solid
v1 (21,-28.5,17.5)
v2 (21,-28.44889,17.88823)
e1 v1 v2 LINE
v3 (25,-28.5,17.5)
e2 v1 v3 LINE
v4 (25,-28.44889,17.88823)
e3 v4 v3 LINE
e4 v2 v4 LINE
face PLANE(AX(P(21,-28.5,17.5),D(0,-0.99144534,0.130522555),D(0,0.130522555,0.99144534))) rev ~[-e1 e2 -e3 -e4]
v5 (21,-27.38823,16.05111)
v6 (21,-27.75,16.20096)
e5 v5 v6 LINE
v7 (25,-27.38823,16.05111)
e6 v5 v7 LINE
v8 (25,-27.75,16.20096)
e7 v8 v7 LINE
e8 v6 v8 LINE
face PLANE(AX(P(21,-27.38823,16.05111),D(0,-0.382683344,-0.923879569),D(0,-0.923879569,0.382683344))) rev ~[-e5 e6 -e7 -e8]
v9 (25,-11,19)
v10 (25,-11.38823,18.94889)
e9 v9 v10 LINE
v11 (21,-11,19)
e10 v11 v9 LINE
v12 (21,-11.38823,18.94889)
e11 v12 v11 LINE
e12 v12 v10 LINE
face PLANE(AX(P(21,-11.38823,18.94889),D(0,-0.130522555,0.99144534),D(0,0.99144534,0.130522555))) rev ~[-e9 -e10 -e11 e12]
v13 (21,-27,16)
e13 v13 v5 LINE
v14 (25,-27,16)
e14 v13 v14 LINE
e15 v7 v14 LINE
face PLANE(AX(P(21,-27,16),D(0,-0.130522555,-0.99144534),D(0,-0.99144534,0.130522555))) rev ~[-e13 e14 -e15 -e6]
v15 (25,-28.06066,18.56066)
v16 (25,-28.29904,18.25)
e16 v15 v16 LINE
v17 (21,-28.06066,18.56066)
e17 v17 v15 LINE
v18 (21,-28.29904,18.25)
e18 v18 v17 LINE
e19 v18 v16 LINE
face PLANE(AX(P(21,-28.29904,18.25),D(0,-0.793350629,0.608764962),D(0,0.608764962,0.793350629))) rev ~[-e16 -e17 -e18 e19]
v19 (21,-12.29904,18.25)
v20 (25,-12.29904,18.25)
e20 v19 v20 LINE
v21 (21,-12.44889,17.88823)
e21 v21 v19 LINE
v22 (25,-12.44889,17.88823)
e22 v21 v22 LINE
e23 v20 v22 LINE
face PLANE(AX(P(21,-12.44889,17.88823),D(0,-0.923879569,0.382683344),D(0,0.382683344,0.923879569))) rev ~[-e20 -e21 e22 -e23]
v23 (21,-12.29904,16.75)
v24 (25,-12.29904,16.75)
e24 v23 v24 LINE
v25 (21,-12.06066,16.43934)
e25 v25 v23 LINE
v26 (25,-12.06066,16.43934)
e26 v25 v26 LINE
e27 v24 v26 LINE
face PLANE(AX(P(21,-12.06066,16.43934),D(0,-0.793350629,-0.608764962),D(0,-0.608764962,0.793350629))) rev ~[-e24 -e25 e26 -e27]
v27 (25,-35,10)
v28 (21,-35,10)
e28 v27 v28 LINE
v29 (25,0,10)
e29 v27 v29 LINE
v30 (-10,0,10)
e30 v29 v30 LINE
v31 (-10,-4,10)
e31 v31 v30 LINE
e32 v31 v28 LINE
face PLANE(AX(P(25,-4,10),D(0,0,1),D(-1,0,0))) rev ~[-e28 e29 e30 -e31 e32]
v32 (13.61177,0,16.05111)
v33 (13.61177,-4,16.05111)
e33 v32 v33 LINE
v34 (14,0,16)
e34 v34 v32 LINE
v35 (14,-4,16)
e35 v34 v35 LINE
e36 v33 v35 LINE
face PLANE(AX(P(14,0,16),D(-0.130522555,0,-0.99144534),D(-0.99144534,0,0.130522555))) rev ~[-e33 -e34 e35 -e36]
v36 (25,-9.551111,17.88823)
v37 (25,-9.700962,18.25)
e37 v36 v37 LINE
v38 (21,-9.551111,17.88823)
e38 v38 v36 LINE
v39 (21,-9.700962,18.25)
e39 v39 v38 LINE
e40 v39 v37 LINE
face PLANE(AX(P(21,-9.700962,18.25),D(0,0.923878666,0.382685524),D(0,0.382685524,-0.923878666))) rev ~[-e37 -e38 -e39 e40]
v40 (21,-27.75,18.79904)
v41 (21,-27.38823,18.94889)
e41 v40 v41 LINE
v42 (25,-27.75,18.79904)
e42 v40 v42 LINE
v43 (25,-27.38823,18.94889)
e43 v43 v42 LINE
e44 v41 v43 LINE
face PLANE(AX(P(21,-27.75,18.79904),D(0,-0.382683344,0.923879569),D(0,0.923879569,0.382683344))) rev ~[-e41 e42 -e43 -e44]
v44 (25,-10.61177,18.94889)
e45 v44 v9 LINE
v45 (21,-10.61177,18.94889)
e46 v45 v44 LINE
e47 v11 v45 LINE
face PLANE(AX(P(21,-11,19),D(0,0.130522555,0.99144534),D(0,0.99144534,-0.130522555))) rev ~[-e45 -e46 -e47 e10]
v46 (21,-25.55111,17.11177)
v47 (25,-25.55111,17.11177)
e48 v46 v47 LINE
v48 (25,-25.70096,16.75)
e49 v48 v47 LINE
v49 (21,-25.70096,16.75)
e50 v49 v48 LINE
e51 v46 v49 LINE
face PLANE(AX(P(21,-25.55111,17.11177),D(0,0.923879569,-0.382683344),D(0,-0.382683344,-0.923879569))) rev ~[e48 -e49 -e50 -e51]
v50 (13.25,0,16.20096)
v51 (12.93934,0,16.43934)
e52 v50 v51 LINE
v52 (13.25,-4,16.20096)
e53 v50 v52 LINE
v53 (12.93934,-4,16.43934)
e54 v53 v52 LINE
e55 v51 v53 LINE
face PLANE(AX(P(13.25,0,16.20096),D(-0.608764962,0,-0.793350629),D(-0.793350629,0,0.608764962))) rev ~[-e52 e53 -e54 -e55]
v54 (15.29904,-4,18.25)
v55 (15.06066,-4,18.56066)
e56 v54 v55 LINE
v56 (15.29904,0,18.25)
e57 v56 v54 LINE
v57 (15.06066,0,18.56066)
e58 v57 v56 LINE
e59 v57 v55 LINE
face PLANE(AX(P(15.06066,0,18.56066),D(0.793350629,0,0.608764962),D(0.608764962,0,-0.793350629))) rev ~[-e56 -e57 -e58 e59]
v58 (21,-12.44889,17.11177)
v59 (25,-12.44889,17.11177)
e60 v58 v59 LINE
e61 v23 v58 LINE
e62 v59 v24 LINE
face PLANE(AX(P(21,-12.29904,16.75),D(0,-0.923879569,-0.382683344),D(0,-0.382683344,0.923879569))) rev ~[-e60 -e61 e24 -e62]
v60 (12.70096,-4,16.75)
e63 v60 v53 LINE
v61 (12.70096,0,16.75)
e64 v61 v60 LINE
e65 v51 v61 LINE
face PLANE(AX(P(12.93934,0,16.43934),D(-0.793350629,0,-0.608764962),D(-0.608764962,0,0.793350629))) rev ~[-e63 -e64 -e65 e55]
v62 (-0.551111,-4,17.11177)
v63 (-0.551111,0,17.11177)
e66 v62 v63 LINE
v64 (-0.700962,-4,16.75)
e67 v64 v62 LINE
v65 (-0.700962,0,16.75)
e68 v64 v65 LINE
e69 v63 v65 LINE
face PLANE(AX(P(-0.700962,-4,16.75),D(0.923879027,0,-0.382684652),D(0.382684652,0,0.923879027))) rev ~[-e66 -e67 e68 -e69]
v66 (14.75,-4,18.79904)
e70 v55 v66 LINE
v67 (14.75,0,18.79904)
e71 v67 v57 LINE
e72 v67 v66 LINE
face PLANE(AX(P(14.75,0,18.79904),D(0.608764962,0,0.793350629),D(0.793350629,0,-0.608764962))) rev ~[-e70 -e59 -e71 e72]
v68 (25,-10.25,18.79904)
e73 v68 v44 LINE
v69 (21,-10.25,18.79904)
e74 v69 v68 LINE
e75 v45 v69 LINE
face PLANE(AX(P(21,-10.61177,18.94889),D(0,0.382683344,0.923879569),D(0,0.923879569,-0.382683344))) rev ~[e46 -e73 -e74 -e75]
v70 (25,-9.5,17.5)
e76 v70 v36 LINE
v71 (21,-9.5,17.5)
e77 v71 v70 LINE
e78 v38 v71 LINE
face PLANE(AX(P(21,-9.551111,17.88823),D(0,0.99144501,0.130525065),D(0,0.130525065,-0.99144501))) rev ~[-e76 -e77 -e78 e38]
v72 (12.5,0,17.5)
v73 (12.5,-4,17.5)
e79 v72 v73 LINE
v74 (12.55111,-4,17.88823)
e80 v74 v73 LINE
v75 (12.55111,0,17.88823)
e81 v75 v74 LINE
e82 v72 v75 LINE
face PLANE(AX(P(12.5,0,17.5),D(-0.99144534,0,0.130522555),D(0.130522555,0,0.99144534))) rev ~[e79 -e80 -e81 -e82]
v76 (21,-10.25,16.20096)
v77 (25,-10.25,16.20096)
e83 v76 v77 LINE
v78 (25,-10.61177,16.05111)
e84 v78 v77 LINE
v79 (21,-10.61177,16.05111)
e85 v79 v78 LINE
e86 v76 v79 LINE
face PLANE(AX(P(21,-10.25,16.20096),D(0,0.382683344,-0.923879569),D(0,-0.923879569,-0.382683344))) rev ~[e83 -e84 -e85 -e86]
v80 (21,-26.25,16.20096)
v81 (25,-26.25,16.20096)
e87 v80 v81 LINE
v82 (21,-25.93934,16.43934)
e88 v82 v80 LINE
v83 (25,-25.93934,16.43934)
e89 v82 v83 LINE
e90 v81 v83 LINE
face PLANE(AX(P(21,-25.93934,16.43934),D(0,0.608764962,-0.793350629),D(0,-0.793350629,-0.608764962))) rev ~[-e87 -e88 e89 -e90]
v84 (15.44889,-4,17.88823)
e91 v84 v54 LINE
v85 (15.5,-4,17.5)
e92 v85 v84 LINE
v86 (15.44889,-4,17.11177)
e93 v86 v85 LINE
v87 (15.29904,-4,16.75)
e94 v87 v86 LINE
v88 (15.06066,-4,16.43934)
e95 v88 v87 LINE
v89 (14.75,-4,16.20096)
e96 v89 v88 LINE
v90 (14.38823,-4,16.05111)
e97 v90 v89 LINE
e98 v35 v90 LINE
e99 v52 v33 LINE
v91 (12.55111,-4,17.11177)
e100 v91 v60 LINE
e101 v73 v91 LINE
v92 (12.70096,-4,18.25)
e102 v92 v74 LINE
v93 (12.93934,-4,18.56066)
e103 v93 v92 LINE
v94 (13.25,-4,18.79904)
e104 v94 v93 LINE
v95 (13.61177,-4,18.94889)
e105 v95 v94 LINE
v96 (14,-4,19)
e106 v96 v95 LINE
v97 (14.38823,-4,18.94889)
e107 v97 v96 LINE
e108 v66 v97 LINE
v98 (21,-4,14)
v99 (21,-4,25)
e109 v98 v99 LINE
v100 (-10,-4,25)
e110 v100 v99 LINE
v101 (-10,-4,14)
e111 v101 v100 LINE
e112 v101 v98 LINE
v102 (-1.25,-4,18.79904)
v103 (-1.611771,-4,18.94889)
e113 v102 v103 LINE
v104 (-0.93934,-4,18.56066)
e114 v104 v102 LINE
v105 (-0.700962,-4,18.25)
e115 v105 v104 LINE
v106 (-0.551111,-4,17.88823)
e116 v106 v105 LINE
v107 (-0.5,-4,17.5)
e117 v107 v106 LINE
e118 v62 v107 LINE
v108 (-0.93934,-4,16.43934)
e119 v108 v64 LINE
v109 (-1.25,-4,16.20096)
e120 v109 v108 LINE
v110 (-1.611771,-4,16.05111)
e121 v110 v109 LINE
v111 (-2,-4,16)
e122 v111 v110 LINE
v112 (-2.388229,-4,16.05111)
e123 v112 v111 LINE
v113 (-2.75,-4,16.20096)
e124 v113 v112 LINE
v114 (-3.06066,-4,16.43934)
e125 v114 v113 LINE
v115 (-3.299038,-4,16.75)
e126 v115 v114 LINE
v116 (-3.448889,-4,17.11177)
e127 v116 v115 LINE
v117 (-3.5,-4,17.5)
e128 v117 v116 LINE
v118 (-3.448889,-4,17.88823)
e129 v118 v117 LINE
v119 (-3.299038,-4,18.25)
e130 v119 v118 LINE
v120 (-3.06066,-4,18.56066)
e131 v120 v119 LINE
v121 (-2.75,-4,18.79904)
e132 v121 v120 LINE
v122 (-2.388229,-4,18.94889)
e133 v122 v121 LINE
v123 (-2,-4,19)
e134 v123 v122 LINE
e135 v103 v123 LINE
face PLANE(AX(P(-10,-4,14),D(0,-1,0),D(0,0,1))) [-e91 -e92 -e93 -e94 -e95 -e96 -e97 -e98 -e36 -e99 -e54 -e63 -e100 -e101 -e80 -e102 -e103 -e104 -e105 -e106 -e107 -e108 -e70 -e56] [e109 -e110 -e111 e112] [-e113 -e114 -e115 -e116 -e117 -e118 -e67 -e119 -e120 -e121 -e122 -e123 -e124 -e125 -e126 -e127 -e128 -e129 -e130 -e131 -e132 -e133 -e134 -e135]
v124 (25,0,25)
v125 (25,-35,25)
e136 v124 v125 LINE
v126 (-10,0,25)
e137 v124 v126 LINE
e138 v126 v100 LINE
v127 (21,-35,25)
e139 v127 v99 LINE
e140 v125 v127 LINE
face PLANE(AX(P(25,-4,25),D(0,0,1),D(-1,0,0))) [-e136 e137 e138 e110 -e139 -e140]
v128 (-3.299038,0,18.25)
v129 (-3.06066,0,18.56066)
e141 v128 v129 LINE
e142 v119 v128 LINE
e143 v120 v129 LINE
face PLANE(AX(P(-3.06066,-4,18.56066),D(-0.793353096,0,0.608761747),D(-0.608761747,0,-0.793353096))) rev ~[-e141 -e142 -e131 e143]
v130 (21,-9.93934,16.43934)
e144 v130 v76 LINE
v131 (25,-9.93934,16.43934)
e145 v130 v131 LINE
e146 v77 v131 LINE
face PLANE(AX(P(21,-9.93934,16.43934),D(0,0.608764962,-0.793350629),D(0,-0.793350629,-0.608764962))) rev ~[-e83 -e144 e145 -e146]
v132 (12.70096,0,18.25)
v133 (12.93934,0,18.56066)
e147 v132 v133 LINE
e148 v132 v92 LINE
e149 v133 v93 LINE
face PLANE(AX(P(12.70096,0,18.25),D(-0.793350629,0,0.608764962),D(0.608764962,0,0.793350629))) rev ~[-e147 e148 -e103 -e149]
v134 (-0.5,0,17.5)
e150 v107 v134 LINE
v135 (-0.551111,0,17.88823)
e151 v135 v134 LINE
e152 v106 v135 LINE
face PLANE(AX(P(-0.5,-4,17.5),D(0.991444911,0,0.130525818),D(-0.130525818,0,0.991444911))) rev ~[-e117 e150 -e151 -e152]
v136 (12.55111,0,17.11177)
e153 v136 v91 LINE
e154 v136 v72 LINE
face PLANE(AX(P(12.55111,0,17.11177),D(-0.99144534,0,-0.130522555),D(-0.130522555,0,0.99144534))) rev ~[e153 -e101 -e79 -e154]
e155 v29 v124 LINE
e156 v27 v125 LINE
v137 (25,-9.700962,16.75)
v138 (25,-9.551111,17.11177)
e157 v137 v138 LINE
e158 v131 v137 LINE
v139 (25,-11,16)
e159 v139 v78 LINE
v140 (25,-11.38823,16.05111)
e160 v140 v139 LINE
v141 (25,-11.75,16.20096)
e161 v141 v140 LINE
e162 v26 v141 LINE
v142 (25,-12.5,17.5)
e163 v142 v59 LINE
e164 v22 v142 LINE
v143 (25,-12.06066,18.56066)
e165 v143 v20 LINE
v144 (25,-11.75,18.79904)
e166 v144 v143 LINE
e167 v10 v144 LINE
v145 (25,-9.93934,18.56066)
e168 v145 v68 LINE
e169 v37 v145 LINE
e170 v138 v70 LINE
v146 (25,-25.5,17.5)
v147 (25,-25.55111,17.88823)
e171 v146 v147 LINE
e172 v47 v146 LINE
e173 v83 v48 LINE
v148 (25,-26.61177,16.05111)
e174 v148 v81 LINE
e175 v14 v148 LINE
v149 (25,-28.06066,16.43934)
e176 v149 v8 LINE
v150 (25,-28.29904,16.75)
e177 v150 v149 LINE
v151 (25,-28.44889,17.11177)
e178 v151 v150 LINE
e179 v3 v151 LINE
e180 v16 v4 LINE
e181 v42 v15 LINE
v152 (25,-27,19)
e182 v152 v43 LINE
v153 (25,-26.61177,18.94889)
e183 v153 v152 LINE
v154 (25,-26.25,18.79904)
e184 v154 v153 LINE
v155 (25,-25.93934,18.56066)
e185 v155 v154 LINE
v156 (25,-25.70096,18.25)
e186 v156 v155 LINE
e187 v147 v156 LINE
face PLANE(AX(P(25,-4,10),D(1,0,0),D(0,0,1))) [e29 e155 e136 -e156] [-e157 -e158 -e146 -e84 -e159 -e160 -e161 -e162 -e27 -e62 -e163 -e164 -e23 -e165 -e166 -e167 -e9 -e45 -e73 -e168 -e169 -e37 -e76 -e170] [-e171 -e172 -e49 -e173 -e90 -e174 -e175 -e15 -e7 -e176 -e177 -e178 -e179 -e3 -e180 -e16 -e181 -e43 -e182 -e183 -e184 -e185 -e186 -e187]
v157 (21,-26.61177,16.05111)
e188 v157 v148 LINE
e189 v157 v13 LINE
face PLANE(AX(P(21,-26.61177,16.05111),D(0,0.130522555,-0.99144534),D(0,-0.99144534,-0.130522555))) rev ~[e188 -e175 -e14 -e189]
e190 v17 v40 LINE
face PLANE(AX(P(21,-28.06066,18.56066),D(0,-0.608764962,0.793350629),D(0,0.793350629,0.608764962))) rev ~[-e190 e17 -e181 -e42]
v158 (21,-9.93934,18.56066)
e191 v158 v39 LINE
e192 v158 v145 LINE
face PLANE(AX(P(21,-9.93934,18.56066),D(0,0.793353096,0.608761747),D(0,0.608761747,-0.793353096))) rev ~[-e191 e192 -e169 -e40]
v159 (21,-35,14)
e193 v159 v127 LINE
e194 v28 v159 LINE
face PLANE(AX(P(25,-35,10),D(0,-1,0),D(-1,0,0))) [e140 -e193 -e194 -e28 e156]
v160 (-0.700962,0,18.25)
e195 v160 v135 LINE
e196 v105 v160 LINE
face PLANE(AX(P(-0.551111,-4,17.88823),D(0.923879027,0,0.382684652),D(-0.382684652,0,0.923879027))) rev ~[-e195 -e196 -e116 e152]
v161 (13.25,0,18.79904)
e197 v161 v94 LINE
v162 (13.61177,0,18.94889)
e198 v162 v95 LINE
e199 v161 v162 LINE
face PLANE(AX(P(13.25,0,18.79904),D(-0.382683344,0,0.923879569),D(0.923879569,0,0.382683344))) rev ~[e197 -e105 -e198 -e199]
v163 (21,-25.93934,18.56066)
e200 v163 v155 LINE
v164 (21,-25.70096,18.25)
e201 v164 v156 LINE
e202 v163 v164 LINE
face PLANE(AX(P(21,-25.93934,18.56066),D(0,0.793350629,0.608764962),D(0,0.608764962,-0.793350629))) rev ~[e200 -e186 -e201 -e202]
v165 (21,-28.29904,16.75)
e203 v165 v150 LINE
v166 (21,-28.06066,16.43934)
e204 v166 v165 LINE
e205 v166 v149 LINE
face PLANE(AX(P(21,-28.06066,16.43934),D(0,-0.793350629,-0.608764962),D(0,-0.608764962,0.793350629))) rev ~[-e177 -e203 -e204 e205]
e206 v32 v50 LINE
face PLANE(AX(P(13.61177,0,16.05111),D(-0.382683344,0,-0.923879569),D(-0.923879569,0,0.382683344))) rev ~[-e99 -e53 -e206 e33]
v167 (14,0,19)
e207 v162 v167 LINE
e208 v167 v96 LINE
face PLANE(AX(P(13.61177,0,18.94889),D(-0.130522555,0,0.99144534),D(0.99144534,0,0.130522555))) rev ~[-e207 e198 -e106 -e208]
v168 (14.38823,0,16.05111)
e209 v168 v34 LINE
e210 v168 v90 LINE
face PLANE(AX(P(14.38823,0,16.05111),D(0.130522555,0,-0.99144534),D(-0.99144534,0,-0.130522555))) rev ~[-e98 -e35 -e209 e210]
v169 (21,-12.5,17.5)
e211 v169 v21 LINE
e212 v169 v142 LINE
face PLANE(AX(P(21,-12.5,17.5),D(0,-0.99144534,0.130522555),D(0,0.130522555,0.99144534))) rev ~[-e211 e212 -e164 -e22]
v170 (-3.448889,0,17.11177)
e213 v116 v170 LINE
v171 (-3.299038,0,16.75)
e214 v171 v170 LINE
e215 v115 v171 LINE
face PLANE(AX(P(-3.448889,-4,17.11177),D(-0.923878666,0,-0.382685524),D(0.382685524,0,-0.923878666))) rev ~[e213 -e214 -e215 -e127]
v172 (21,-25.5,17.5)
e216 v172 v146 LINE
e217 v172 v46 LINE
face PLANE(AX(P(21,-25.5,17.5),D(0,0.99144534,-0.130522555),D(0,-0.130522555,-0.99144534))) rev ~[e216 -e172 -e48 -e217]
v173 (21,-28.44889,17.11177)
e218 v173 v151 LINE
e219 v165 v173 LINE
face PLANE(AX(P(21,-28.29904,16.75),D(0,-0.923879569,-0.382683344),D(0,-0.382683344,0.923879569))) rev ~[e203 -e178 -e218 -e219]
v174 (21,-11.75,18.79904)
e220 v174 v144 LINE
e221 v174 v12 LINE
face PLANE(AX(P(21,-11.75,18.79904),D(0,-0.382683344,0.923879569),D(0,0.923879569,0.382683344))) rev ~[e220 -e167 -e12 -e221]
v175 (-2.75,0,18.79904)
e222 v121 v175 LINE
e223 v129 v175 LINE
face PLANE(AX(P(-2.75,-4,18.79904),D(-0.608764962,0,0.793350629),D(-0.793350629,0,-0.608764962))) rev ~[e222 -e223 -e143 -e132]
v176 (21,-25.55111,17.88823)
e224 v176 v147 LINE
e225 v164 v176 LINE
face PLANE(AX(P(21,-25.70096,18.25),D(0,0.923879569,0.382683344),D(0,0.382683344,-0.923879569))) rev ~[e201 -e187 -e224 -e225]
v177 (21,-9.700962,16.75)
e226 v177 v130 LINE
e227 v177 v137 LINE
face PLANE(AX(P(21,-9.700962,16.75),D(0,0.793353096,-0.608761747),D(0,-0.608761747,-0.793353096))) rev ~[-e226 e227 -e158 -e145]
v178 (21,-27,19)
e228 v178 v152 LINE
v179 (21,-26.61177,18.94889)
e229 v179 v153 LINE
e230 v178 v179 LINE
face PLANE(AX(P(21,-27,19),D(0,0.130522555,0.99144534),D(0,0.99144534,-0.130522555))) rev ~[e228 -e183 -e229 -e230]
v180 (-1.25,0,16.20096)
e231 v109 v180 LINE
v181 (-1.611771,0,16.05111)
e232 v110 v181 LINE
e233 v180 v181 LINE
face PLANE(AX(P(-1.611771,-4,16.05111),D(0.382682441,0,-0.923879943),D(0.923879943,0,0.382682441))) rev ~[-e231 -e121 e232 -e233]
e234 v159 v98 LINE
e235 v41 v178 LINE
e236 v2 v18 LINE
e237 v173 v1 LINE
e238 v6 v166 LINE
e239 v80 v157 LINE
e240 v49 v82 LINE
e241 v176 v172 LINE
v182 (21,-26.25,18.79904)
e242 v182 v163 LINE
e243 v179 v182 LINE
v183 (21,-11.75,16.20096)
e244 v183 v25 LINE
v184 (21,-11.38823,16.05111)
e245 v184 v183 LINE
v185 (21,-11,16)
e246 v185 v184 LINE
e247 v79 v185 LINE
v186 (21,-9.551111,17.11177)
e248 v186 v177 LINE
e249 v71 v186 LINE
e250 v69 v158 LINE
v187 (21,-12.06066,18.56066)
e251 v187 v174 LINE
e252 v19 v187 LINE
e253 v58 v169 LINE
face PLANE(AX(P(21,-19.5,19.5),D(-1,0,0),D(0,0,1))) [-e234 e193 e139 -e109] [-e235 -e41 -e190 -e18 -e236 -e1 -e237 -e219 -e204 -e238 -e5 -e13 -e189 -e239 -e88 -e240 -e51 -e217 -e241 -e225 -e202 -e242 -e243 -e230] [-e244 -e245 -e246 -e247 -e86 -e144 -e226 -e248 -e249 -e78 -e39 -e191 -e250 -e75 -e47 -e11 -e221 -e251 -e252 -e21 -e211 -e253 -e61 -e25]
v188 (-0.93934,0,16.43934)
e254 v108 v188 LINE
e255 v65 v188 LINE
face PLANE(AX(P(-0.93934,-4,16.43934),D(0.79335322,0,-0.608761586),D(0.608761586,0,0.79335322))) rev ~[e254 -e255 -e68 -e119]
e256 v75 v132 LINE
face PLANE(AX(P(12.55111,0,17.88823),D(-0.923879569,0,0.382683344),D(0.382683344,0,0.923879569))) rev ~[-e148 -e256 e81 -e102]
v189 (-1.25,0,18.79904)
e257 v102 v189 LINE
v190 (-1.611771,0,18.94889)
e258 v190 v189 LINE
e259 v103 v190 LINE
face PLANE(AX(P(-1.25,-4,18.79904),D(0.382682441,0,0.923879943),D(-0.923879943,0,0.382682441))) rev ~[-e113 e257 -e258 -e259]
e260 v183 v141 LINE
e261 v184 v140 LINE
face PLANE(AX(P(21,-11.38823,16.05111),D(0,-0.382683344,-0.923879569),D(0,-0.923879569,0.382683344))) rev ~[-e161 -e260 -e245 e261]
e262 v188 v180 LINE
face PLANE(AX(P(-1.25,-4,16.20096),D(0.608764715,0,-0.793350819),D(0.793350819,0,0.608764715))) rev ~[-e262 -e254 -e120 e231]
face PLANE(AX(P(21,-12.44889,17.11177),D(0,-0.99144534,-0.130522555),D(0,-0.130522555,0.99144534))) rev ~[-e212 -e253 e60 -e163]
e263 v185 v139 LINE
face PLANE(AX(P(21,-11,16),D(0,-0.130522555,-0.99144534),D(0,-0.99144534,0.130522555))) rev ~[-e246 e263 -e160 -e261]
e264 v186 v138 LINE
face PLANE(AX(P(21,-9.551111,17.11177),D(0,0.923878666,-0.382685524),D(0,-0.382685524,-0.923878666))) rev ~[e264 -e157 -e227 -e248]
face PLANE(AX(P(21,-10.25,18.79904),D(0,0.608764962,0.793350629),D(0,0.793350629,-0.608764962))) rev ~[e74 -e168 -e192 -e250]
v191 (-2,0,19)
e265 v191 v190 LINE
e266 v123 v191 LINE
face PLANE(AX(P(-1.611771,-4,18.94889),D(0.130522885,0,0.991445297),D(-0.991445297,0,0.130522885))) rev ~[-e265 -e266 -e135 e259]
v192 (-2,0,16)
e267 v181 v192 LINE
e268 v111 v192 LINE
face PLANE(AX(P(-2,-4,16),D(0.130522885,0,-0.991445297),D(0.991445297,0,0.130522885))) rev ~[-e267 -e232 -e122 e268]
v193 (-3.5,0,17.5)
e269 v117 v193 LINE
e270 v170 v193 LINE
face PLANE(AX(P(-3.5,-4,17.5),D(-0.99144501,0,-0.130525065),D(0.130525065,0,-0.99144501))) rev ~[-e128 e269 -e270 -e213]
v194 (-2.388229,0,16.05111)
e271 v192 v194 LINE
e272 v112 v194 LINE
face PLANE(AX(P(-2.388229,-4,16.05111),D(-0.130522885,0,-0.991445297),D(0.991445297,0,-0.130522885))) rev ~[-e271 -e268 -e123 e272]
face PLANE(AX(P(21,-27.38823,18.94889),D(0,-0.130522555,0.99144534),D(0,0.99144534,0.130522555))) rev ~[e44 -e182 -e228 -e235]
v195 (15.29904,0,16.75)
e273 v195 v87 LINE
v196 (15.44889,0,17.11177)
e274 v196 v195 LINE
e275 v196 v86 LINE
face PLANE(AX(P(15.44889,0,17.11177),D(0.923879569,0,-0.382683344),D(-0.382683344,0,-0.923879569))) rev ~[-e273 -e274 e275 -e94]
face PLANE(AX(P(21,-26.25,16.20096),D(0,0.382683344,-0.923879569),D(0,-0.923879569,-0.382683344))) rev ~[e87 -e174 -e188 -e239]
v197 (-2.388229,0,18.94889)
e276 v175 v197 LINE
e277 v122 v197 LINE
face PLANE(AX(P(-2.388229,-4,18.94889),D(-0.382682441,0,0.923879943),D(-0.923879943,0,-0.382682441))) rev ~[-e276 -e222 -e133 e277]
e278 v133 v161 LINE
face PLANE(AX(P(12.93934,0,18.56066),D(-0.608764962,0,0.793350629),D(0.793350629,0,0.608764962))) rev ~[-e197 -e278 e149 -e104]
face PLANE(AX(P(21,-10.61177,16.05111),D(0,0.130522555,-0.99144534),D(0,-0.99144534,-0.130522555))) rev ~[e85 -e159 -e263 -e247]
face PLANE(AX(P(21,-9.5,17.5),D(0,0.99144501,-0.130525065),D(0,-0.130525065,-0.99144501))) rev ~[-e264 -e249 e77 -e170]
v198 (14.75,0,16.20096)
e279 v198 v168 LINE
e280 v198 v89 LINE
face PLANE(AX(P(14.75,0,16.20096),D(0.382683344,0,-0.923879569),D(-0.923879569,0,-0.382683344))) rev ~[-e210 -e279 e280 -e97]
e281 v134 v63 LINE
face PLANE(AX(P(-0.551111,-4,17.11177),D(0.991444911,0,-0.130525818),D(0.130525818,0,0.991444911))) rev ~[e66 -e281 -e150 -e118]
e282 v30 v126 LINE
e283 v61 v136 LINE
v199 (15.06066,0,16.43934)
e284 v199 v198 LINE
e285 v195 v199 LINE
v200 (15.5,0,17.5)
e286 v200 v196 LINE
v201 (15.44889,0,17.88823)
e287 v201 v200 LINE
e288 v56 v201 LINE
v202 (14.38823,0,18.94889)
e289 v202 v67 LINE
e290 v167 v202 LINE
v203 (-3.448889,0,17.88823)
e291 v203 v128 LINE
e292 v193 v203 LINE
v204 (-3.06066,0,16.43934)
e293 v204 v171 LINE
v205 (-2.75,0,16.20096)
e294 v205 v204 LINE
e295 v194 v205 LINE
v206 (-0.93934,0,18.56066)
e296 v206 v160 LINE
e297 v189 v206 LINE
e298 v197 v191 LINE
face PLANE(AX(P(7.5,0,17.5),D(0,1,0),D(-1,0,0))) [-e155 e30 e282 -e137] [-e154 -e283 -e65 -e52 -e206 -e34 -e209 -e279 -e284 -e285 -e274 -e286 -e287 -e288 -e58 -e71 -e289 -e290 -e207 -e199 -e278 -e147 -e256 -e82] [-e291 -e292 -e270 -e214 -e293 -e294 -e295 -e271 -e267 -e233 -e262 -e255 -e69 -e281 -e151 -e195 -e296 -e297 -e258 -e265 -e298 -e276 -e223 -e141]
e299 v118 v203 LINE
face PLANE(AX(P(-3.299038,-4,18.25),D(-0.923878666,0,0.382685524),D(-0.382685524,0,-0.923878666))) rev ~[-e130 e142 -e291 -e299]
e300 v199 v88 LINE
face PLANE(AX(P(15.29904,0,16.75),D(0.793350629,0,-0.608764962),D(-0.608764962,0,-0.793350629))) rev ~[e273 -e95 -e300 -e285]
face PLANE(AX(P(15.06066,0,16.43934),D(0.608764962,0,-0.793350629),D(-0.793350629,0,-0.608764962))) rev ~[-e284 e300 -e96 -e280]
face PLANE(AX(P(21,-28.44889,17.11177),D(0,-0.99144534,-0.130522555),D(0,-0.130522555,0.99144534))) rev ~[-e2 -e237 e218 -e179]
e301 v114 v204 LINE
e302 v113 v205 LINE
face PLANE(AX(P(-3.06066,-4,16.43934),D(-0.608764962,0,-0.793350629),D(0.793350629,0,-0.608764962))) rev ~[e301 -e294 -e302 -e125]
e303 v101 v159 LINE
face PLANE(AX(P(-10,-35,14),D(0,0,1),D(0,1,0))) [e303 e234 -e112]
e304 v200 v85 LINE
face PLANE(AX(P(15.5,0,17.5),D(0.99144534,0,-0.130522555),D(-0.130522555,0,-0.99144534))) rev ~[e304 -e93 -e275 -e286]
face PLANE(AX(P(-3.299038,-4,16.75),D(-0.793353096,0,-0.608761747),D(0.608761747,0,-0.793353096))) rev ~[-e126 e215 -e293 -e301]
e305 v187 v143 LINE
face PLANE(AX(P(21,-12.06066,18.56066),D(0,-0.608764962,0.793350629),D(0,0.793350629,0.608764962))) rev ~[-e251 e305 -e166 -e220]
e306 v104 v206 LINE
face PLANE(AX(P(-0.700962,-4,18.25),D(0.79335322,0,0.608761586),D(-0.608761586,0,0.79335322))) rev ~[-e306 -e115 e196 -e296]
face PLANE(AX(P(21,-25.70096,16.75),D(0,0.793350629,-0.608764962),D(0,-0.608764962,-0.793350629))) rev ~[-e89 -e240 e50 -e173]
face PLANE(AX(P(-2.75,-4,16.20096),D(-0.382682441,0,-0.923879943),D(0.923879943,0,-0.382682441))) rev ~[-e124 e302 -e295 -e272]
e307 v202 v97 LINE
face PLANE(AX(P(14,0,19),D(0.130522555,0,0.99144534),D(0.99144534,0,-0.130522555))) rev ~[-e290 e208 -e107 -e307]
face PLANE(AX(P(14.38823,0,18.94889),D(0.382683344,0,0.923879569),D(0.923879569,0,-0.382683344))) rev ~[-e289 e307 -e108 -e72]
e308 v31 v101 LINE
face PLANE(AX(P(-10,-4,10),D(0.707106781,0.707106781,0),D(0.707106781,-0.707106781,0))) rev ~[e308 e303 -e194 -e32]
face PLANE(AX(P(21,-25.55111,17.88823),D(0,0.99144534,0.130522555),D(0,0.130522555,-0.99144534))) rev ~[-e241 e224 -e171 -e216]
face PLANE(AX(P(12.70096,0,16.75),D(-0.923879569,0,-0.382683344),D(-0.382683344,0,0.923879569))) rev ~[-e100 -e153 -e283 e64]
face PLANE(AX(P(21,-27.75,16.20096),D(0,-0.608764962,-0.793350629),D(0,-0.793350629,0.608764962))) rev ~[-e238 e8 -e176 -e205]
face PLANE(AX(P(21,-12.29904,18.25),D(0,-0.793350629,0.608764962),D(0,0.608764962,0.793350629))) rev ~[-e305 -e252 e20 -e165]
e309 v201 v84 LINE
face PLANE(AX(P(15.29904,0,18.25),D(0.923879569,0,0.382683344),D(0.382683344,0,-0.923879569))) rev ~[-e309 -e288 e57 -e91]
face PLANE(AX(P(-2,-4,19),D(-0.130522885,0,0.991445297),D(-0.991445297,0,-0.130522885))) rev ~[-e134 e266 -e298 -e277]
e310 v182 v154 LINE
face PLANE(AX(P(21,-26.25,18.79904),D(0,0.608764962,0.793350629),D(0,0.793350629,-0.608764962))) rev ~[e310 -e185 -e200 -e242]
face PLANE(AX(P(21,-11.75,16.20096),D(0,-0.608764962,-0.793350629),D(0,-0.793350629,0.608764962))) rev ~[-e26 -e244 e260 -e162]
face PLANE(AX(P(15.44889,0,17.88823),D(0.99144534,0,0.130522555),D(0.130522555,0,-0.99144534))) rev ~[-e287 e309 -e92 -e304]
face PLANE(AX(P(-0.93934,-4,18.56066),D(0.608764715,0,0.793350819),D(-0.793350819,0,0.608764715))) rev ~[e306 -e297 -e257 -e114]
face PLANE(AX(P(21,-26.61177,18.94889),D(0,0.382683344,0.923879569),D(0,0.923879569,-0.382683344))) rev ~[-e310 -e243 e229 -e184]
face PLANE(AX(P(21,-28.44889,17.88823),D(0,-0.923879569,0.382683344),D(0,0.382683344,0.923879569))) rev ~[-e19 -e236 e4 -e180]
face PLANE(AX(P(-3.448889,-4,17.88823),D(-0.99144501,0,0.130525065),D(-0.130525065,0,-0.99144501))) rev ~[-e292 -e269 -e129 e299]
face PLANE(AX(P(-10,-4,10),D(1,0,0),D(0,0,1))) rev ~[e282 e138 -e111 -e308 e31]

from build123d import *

# Parameters (mm, degrees)
SKETCH1_W           = 35
SKETCH1_H           = 31
BOSS_EXTRUDE1_DEPTH = 15
CUT_EXTRUDE1_DEPTH  = 4
SKETCH3_W           = 35
SKETCH3_H           = 15
BOSS_EXTRUDE2_DEPTH = 4
SKETCH4_W           = 11
SKETCH4_H           = 31
CUT_EXTRUDE2_DEPTH  = 31
CUT_EXTRUDE3_DEPTH  = 48.021271782
CUT_EXTRUDE4_DEPTH  = 54.018864567
CUT_EXTRUDE5_DEPTH  = 54.018864567
CUT_EXTRUDE6_DEPTH  = 50.749371855


with BuildPart() as part:
    # Sketch1 → Boss-Extrude1 (new body)
    with BuildSketch(Plane(origin=(0, 0, 10), x_dir=(-1, 0, 0), z_dir=(0, 0, -1))):
        with Locations((-7.5, -19.5)):
            Rectangle(SKETCH1_W, SKETCH1_H)
    extrude(amount=-BOSS_EXTRUDE1_DEPTH)

    # Sketch2 → Cut-Extrude1 (cut)
    with BuildSketch(Plane(origin=(0, 0, 10), x_dir=(-1, 0, 0), z_dir=(0, 0, -1))):
        Polygon((10, -4), (-21, -35), (10, -35), align=None)
    extrude(amount=-CUT_EXTRUDE1_DEPTH, mode=Mode.SUBTRACT)

    # Sketch3 → Boss-Extrude2 (add)
    with BuildSketch(Plane(origin=(0, -4, 0), x_dir=(-1, 0, 0), z_dir=(0, 1, 0))):
        with Locations((-7.5, 17.5)):
            Rectangle(SKETCH3_W, SKETCH3_H)
    extrude(amount=BOSS_EXTRUDE2_DEPTH)

    # Sketch4 → Cut-Extrude2 (cut)
    with BuildSketch(Plane.ZY.offset(10)):
        with Locations((19.5, -19.5)):
            Rectangle(SKETCH4_W, SKETCH4_H)
    extrude(amount=-CUT_EXTRUDE2_DEPTH, mode=Mode.SUBTRACT)

    # Sketch5 → Cut-Extrude3 (cut, through all)
    with BuildSketch(Plane.XZ.offset(4)):
        Polygon((-2.75, 16.20096), (-2.388229, 16.05111), (-2, 16), (-1.611771, 16.05111), (-1.25, 16.20096), (-0.9393398, 16.43934), (-0.7009619, 16.75), (-0.5511113, 17.11177), (-0.5, 17.5), (-0.5511113, 17.88823), (-0.7009619, 18.25), (-0.9393398, 18.56066), (-1.25, 18.79904), (-1.611771, 18.94889), (-2, 19), (-2.388229, 18.94889), (-2.75, 18.79904), (-3.06066, 18.56066), (-3.299038, 18.25), (-3.448889, 17.88823), (-3.5, 17.5), (-3.448889, 17.11177), (-3.299038, 16.75), (-3.06066, 16.43934), align=None)
    extrude(amount=-CUT_EXTRUDE3_DEPTH, mode=Mode.SUBTRACT)

    # Sketch6 → Cut-Extrude4 (cut, through all)
    with BuildSketch(Plane.ZY.offset(-21)):
        Polygon((17.11177, -28.44889), (17.5, -28.5), (17.88823, -28.44889), (18.25, -28.29904), (18.56066, -28.06066), (18.79904, -27.75), (18.94889, -27.38823), (19, -27), (18.94889, -26.61177), (18.79904, -26.25), (18.56066, -25.93934), (18.25, -25.70096), (17.88823, -25.55111), (17.5, -25.5), (17.11177, -25.55111), (16.75, -25.70096), (16.43934, -25.93934), (16.20096, -26.25), (16.05111, -26.61177), (16, -27), (16.05111, -27.38823), (16.20096, -27.75), (16.43934, -28.06066), (16.75, -28.29904), align=None)
    extrude(amount=-CUT_EXTRUDE4_DEPTH, mode=Mode.SUBTRACT)

    # Sketch7 → Cut-Extrude5 (cut, through all)
    with BuildSketch(Plane.ZY.offset(-21)):
        Polygon((16.20096, -11.75), (16.43934, -12.06066), (16.75, -12.29904), (17.11177, -12.44889), (17.5, -12.5), (17.88823, -12.44889), (18.25, -12.29904), (18.56066, -12.06066), (18.79904, -11.75), (18.94889, -11.38823), (19, -11), (18.94889, -10.61177), (18.79904, -10.25), (18.56066, -9.93934), (18.25, -9.700962), (17.88823, -9.551111), (17.5, -9.5), (17.11177, -9.551111), (16.75, -9.700962), (16.43934, -9.93934), (16.20096, -10.25), (16.05111, -10.61177), (16, -11), (16.05111, -11.38823), align=None)
    extrude(amount=-CUT_EXTRUDE5_DEPTH, mode=Mode.SUBTRACT)

    # Sketch8 → Cut-Extrude6 (cut, through all)
    with BuildSketch(Plane(origin=(0, 0, 0), x_dir=(-1, 0, 0), z_dir=(0, 1, 0))):
        Polygon((-12.70096, 16.75), (-12.55111, 17.11177), (-12.5, 17.5), (-12.55111, 17.88823), (-12.70096, 18.25), (-12.93934, 18.56066), (-13.25, 18.79904), (-13.61177, 18.94889), (-14, 19), (-14.38823, 18.94889), (-14.75, 18.79904), (-15.06066, 18.56066), (-15.29904, 18.25), (-15.44889, 17.88823), (-15.5, 17.5), (-15.44889, 17.11177), (-15.29904, 16.75), (-15.06066, 16.43934), (-14.75, 16.20096), (-14.38823, 16.05111), (-14, 16), (-13.61177, 16.05111), (-13.25, 16.20096), (-12.93934, 16.43934), align=None)
    extrude(amount=-CUT_EXTRUDE6_DEPTH, mode=Mode.SUBTRACT)


solid = part.part
